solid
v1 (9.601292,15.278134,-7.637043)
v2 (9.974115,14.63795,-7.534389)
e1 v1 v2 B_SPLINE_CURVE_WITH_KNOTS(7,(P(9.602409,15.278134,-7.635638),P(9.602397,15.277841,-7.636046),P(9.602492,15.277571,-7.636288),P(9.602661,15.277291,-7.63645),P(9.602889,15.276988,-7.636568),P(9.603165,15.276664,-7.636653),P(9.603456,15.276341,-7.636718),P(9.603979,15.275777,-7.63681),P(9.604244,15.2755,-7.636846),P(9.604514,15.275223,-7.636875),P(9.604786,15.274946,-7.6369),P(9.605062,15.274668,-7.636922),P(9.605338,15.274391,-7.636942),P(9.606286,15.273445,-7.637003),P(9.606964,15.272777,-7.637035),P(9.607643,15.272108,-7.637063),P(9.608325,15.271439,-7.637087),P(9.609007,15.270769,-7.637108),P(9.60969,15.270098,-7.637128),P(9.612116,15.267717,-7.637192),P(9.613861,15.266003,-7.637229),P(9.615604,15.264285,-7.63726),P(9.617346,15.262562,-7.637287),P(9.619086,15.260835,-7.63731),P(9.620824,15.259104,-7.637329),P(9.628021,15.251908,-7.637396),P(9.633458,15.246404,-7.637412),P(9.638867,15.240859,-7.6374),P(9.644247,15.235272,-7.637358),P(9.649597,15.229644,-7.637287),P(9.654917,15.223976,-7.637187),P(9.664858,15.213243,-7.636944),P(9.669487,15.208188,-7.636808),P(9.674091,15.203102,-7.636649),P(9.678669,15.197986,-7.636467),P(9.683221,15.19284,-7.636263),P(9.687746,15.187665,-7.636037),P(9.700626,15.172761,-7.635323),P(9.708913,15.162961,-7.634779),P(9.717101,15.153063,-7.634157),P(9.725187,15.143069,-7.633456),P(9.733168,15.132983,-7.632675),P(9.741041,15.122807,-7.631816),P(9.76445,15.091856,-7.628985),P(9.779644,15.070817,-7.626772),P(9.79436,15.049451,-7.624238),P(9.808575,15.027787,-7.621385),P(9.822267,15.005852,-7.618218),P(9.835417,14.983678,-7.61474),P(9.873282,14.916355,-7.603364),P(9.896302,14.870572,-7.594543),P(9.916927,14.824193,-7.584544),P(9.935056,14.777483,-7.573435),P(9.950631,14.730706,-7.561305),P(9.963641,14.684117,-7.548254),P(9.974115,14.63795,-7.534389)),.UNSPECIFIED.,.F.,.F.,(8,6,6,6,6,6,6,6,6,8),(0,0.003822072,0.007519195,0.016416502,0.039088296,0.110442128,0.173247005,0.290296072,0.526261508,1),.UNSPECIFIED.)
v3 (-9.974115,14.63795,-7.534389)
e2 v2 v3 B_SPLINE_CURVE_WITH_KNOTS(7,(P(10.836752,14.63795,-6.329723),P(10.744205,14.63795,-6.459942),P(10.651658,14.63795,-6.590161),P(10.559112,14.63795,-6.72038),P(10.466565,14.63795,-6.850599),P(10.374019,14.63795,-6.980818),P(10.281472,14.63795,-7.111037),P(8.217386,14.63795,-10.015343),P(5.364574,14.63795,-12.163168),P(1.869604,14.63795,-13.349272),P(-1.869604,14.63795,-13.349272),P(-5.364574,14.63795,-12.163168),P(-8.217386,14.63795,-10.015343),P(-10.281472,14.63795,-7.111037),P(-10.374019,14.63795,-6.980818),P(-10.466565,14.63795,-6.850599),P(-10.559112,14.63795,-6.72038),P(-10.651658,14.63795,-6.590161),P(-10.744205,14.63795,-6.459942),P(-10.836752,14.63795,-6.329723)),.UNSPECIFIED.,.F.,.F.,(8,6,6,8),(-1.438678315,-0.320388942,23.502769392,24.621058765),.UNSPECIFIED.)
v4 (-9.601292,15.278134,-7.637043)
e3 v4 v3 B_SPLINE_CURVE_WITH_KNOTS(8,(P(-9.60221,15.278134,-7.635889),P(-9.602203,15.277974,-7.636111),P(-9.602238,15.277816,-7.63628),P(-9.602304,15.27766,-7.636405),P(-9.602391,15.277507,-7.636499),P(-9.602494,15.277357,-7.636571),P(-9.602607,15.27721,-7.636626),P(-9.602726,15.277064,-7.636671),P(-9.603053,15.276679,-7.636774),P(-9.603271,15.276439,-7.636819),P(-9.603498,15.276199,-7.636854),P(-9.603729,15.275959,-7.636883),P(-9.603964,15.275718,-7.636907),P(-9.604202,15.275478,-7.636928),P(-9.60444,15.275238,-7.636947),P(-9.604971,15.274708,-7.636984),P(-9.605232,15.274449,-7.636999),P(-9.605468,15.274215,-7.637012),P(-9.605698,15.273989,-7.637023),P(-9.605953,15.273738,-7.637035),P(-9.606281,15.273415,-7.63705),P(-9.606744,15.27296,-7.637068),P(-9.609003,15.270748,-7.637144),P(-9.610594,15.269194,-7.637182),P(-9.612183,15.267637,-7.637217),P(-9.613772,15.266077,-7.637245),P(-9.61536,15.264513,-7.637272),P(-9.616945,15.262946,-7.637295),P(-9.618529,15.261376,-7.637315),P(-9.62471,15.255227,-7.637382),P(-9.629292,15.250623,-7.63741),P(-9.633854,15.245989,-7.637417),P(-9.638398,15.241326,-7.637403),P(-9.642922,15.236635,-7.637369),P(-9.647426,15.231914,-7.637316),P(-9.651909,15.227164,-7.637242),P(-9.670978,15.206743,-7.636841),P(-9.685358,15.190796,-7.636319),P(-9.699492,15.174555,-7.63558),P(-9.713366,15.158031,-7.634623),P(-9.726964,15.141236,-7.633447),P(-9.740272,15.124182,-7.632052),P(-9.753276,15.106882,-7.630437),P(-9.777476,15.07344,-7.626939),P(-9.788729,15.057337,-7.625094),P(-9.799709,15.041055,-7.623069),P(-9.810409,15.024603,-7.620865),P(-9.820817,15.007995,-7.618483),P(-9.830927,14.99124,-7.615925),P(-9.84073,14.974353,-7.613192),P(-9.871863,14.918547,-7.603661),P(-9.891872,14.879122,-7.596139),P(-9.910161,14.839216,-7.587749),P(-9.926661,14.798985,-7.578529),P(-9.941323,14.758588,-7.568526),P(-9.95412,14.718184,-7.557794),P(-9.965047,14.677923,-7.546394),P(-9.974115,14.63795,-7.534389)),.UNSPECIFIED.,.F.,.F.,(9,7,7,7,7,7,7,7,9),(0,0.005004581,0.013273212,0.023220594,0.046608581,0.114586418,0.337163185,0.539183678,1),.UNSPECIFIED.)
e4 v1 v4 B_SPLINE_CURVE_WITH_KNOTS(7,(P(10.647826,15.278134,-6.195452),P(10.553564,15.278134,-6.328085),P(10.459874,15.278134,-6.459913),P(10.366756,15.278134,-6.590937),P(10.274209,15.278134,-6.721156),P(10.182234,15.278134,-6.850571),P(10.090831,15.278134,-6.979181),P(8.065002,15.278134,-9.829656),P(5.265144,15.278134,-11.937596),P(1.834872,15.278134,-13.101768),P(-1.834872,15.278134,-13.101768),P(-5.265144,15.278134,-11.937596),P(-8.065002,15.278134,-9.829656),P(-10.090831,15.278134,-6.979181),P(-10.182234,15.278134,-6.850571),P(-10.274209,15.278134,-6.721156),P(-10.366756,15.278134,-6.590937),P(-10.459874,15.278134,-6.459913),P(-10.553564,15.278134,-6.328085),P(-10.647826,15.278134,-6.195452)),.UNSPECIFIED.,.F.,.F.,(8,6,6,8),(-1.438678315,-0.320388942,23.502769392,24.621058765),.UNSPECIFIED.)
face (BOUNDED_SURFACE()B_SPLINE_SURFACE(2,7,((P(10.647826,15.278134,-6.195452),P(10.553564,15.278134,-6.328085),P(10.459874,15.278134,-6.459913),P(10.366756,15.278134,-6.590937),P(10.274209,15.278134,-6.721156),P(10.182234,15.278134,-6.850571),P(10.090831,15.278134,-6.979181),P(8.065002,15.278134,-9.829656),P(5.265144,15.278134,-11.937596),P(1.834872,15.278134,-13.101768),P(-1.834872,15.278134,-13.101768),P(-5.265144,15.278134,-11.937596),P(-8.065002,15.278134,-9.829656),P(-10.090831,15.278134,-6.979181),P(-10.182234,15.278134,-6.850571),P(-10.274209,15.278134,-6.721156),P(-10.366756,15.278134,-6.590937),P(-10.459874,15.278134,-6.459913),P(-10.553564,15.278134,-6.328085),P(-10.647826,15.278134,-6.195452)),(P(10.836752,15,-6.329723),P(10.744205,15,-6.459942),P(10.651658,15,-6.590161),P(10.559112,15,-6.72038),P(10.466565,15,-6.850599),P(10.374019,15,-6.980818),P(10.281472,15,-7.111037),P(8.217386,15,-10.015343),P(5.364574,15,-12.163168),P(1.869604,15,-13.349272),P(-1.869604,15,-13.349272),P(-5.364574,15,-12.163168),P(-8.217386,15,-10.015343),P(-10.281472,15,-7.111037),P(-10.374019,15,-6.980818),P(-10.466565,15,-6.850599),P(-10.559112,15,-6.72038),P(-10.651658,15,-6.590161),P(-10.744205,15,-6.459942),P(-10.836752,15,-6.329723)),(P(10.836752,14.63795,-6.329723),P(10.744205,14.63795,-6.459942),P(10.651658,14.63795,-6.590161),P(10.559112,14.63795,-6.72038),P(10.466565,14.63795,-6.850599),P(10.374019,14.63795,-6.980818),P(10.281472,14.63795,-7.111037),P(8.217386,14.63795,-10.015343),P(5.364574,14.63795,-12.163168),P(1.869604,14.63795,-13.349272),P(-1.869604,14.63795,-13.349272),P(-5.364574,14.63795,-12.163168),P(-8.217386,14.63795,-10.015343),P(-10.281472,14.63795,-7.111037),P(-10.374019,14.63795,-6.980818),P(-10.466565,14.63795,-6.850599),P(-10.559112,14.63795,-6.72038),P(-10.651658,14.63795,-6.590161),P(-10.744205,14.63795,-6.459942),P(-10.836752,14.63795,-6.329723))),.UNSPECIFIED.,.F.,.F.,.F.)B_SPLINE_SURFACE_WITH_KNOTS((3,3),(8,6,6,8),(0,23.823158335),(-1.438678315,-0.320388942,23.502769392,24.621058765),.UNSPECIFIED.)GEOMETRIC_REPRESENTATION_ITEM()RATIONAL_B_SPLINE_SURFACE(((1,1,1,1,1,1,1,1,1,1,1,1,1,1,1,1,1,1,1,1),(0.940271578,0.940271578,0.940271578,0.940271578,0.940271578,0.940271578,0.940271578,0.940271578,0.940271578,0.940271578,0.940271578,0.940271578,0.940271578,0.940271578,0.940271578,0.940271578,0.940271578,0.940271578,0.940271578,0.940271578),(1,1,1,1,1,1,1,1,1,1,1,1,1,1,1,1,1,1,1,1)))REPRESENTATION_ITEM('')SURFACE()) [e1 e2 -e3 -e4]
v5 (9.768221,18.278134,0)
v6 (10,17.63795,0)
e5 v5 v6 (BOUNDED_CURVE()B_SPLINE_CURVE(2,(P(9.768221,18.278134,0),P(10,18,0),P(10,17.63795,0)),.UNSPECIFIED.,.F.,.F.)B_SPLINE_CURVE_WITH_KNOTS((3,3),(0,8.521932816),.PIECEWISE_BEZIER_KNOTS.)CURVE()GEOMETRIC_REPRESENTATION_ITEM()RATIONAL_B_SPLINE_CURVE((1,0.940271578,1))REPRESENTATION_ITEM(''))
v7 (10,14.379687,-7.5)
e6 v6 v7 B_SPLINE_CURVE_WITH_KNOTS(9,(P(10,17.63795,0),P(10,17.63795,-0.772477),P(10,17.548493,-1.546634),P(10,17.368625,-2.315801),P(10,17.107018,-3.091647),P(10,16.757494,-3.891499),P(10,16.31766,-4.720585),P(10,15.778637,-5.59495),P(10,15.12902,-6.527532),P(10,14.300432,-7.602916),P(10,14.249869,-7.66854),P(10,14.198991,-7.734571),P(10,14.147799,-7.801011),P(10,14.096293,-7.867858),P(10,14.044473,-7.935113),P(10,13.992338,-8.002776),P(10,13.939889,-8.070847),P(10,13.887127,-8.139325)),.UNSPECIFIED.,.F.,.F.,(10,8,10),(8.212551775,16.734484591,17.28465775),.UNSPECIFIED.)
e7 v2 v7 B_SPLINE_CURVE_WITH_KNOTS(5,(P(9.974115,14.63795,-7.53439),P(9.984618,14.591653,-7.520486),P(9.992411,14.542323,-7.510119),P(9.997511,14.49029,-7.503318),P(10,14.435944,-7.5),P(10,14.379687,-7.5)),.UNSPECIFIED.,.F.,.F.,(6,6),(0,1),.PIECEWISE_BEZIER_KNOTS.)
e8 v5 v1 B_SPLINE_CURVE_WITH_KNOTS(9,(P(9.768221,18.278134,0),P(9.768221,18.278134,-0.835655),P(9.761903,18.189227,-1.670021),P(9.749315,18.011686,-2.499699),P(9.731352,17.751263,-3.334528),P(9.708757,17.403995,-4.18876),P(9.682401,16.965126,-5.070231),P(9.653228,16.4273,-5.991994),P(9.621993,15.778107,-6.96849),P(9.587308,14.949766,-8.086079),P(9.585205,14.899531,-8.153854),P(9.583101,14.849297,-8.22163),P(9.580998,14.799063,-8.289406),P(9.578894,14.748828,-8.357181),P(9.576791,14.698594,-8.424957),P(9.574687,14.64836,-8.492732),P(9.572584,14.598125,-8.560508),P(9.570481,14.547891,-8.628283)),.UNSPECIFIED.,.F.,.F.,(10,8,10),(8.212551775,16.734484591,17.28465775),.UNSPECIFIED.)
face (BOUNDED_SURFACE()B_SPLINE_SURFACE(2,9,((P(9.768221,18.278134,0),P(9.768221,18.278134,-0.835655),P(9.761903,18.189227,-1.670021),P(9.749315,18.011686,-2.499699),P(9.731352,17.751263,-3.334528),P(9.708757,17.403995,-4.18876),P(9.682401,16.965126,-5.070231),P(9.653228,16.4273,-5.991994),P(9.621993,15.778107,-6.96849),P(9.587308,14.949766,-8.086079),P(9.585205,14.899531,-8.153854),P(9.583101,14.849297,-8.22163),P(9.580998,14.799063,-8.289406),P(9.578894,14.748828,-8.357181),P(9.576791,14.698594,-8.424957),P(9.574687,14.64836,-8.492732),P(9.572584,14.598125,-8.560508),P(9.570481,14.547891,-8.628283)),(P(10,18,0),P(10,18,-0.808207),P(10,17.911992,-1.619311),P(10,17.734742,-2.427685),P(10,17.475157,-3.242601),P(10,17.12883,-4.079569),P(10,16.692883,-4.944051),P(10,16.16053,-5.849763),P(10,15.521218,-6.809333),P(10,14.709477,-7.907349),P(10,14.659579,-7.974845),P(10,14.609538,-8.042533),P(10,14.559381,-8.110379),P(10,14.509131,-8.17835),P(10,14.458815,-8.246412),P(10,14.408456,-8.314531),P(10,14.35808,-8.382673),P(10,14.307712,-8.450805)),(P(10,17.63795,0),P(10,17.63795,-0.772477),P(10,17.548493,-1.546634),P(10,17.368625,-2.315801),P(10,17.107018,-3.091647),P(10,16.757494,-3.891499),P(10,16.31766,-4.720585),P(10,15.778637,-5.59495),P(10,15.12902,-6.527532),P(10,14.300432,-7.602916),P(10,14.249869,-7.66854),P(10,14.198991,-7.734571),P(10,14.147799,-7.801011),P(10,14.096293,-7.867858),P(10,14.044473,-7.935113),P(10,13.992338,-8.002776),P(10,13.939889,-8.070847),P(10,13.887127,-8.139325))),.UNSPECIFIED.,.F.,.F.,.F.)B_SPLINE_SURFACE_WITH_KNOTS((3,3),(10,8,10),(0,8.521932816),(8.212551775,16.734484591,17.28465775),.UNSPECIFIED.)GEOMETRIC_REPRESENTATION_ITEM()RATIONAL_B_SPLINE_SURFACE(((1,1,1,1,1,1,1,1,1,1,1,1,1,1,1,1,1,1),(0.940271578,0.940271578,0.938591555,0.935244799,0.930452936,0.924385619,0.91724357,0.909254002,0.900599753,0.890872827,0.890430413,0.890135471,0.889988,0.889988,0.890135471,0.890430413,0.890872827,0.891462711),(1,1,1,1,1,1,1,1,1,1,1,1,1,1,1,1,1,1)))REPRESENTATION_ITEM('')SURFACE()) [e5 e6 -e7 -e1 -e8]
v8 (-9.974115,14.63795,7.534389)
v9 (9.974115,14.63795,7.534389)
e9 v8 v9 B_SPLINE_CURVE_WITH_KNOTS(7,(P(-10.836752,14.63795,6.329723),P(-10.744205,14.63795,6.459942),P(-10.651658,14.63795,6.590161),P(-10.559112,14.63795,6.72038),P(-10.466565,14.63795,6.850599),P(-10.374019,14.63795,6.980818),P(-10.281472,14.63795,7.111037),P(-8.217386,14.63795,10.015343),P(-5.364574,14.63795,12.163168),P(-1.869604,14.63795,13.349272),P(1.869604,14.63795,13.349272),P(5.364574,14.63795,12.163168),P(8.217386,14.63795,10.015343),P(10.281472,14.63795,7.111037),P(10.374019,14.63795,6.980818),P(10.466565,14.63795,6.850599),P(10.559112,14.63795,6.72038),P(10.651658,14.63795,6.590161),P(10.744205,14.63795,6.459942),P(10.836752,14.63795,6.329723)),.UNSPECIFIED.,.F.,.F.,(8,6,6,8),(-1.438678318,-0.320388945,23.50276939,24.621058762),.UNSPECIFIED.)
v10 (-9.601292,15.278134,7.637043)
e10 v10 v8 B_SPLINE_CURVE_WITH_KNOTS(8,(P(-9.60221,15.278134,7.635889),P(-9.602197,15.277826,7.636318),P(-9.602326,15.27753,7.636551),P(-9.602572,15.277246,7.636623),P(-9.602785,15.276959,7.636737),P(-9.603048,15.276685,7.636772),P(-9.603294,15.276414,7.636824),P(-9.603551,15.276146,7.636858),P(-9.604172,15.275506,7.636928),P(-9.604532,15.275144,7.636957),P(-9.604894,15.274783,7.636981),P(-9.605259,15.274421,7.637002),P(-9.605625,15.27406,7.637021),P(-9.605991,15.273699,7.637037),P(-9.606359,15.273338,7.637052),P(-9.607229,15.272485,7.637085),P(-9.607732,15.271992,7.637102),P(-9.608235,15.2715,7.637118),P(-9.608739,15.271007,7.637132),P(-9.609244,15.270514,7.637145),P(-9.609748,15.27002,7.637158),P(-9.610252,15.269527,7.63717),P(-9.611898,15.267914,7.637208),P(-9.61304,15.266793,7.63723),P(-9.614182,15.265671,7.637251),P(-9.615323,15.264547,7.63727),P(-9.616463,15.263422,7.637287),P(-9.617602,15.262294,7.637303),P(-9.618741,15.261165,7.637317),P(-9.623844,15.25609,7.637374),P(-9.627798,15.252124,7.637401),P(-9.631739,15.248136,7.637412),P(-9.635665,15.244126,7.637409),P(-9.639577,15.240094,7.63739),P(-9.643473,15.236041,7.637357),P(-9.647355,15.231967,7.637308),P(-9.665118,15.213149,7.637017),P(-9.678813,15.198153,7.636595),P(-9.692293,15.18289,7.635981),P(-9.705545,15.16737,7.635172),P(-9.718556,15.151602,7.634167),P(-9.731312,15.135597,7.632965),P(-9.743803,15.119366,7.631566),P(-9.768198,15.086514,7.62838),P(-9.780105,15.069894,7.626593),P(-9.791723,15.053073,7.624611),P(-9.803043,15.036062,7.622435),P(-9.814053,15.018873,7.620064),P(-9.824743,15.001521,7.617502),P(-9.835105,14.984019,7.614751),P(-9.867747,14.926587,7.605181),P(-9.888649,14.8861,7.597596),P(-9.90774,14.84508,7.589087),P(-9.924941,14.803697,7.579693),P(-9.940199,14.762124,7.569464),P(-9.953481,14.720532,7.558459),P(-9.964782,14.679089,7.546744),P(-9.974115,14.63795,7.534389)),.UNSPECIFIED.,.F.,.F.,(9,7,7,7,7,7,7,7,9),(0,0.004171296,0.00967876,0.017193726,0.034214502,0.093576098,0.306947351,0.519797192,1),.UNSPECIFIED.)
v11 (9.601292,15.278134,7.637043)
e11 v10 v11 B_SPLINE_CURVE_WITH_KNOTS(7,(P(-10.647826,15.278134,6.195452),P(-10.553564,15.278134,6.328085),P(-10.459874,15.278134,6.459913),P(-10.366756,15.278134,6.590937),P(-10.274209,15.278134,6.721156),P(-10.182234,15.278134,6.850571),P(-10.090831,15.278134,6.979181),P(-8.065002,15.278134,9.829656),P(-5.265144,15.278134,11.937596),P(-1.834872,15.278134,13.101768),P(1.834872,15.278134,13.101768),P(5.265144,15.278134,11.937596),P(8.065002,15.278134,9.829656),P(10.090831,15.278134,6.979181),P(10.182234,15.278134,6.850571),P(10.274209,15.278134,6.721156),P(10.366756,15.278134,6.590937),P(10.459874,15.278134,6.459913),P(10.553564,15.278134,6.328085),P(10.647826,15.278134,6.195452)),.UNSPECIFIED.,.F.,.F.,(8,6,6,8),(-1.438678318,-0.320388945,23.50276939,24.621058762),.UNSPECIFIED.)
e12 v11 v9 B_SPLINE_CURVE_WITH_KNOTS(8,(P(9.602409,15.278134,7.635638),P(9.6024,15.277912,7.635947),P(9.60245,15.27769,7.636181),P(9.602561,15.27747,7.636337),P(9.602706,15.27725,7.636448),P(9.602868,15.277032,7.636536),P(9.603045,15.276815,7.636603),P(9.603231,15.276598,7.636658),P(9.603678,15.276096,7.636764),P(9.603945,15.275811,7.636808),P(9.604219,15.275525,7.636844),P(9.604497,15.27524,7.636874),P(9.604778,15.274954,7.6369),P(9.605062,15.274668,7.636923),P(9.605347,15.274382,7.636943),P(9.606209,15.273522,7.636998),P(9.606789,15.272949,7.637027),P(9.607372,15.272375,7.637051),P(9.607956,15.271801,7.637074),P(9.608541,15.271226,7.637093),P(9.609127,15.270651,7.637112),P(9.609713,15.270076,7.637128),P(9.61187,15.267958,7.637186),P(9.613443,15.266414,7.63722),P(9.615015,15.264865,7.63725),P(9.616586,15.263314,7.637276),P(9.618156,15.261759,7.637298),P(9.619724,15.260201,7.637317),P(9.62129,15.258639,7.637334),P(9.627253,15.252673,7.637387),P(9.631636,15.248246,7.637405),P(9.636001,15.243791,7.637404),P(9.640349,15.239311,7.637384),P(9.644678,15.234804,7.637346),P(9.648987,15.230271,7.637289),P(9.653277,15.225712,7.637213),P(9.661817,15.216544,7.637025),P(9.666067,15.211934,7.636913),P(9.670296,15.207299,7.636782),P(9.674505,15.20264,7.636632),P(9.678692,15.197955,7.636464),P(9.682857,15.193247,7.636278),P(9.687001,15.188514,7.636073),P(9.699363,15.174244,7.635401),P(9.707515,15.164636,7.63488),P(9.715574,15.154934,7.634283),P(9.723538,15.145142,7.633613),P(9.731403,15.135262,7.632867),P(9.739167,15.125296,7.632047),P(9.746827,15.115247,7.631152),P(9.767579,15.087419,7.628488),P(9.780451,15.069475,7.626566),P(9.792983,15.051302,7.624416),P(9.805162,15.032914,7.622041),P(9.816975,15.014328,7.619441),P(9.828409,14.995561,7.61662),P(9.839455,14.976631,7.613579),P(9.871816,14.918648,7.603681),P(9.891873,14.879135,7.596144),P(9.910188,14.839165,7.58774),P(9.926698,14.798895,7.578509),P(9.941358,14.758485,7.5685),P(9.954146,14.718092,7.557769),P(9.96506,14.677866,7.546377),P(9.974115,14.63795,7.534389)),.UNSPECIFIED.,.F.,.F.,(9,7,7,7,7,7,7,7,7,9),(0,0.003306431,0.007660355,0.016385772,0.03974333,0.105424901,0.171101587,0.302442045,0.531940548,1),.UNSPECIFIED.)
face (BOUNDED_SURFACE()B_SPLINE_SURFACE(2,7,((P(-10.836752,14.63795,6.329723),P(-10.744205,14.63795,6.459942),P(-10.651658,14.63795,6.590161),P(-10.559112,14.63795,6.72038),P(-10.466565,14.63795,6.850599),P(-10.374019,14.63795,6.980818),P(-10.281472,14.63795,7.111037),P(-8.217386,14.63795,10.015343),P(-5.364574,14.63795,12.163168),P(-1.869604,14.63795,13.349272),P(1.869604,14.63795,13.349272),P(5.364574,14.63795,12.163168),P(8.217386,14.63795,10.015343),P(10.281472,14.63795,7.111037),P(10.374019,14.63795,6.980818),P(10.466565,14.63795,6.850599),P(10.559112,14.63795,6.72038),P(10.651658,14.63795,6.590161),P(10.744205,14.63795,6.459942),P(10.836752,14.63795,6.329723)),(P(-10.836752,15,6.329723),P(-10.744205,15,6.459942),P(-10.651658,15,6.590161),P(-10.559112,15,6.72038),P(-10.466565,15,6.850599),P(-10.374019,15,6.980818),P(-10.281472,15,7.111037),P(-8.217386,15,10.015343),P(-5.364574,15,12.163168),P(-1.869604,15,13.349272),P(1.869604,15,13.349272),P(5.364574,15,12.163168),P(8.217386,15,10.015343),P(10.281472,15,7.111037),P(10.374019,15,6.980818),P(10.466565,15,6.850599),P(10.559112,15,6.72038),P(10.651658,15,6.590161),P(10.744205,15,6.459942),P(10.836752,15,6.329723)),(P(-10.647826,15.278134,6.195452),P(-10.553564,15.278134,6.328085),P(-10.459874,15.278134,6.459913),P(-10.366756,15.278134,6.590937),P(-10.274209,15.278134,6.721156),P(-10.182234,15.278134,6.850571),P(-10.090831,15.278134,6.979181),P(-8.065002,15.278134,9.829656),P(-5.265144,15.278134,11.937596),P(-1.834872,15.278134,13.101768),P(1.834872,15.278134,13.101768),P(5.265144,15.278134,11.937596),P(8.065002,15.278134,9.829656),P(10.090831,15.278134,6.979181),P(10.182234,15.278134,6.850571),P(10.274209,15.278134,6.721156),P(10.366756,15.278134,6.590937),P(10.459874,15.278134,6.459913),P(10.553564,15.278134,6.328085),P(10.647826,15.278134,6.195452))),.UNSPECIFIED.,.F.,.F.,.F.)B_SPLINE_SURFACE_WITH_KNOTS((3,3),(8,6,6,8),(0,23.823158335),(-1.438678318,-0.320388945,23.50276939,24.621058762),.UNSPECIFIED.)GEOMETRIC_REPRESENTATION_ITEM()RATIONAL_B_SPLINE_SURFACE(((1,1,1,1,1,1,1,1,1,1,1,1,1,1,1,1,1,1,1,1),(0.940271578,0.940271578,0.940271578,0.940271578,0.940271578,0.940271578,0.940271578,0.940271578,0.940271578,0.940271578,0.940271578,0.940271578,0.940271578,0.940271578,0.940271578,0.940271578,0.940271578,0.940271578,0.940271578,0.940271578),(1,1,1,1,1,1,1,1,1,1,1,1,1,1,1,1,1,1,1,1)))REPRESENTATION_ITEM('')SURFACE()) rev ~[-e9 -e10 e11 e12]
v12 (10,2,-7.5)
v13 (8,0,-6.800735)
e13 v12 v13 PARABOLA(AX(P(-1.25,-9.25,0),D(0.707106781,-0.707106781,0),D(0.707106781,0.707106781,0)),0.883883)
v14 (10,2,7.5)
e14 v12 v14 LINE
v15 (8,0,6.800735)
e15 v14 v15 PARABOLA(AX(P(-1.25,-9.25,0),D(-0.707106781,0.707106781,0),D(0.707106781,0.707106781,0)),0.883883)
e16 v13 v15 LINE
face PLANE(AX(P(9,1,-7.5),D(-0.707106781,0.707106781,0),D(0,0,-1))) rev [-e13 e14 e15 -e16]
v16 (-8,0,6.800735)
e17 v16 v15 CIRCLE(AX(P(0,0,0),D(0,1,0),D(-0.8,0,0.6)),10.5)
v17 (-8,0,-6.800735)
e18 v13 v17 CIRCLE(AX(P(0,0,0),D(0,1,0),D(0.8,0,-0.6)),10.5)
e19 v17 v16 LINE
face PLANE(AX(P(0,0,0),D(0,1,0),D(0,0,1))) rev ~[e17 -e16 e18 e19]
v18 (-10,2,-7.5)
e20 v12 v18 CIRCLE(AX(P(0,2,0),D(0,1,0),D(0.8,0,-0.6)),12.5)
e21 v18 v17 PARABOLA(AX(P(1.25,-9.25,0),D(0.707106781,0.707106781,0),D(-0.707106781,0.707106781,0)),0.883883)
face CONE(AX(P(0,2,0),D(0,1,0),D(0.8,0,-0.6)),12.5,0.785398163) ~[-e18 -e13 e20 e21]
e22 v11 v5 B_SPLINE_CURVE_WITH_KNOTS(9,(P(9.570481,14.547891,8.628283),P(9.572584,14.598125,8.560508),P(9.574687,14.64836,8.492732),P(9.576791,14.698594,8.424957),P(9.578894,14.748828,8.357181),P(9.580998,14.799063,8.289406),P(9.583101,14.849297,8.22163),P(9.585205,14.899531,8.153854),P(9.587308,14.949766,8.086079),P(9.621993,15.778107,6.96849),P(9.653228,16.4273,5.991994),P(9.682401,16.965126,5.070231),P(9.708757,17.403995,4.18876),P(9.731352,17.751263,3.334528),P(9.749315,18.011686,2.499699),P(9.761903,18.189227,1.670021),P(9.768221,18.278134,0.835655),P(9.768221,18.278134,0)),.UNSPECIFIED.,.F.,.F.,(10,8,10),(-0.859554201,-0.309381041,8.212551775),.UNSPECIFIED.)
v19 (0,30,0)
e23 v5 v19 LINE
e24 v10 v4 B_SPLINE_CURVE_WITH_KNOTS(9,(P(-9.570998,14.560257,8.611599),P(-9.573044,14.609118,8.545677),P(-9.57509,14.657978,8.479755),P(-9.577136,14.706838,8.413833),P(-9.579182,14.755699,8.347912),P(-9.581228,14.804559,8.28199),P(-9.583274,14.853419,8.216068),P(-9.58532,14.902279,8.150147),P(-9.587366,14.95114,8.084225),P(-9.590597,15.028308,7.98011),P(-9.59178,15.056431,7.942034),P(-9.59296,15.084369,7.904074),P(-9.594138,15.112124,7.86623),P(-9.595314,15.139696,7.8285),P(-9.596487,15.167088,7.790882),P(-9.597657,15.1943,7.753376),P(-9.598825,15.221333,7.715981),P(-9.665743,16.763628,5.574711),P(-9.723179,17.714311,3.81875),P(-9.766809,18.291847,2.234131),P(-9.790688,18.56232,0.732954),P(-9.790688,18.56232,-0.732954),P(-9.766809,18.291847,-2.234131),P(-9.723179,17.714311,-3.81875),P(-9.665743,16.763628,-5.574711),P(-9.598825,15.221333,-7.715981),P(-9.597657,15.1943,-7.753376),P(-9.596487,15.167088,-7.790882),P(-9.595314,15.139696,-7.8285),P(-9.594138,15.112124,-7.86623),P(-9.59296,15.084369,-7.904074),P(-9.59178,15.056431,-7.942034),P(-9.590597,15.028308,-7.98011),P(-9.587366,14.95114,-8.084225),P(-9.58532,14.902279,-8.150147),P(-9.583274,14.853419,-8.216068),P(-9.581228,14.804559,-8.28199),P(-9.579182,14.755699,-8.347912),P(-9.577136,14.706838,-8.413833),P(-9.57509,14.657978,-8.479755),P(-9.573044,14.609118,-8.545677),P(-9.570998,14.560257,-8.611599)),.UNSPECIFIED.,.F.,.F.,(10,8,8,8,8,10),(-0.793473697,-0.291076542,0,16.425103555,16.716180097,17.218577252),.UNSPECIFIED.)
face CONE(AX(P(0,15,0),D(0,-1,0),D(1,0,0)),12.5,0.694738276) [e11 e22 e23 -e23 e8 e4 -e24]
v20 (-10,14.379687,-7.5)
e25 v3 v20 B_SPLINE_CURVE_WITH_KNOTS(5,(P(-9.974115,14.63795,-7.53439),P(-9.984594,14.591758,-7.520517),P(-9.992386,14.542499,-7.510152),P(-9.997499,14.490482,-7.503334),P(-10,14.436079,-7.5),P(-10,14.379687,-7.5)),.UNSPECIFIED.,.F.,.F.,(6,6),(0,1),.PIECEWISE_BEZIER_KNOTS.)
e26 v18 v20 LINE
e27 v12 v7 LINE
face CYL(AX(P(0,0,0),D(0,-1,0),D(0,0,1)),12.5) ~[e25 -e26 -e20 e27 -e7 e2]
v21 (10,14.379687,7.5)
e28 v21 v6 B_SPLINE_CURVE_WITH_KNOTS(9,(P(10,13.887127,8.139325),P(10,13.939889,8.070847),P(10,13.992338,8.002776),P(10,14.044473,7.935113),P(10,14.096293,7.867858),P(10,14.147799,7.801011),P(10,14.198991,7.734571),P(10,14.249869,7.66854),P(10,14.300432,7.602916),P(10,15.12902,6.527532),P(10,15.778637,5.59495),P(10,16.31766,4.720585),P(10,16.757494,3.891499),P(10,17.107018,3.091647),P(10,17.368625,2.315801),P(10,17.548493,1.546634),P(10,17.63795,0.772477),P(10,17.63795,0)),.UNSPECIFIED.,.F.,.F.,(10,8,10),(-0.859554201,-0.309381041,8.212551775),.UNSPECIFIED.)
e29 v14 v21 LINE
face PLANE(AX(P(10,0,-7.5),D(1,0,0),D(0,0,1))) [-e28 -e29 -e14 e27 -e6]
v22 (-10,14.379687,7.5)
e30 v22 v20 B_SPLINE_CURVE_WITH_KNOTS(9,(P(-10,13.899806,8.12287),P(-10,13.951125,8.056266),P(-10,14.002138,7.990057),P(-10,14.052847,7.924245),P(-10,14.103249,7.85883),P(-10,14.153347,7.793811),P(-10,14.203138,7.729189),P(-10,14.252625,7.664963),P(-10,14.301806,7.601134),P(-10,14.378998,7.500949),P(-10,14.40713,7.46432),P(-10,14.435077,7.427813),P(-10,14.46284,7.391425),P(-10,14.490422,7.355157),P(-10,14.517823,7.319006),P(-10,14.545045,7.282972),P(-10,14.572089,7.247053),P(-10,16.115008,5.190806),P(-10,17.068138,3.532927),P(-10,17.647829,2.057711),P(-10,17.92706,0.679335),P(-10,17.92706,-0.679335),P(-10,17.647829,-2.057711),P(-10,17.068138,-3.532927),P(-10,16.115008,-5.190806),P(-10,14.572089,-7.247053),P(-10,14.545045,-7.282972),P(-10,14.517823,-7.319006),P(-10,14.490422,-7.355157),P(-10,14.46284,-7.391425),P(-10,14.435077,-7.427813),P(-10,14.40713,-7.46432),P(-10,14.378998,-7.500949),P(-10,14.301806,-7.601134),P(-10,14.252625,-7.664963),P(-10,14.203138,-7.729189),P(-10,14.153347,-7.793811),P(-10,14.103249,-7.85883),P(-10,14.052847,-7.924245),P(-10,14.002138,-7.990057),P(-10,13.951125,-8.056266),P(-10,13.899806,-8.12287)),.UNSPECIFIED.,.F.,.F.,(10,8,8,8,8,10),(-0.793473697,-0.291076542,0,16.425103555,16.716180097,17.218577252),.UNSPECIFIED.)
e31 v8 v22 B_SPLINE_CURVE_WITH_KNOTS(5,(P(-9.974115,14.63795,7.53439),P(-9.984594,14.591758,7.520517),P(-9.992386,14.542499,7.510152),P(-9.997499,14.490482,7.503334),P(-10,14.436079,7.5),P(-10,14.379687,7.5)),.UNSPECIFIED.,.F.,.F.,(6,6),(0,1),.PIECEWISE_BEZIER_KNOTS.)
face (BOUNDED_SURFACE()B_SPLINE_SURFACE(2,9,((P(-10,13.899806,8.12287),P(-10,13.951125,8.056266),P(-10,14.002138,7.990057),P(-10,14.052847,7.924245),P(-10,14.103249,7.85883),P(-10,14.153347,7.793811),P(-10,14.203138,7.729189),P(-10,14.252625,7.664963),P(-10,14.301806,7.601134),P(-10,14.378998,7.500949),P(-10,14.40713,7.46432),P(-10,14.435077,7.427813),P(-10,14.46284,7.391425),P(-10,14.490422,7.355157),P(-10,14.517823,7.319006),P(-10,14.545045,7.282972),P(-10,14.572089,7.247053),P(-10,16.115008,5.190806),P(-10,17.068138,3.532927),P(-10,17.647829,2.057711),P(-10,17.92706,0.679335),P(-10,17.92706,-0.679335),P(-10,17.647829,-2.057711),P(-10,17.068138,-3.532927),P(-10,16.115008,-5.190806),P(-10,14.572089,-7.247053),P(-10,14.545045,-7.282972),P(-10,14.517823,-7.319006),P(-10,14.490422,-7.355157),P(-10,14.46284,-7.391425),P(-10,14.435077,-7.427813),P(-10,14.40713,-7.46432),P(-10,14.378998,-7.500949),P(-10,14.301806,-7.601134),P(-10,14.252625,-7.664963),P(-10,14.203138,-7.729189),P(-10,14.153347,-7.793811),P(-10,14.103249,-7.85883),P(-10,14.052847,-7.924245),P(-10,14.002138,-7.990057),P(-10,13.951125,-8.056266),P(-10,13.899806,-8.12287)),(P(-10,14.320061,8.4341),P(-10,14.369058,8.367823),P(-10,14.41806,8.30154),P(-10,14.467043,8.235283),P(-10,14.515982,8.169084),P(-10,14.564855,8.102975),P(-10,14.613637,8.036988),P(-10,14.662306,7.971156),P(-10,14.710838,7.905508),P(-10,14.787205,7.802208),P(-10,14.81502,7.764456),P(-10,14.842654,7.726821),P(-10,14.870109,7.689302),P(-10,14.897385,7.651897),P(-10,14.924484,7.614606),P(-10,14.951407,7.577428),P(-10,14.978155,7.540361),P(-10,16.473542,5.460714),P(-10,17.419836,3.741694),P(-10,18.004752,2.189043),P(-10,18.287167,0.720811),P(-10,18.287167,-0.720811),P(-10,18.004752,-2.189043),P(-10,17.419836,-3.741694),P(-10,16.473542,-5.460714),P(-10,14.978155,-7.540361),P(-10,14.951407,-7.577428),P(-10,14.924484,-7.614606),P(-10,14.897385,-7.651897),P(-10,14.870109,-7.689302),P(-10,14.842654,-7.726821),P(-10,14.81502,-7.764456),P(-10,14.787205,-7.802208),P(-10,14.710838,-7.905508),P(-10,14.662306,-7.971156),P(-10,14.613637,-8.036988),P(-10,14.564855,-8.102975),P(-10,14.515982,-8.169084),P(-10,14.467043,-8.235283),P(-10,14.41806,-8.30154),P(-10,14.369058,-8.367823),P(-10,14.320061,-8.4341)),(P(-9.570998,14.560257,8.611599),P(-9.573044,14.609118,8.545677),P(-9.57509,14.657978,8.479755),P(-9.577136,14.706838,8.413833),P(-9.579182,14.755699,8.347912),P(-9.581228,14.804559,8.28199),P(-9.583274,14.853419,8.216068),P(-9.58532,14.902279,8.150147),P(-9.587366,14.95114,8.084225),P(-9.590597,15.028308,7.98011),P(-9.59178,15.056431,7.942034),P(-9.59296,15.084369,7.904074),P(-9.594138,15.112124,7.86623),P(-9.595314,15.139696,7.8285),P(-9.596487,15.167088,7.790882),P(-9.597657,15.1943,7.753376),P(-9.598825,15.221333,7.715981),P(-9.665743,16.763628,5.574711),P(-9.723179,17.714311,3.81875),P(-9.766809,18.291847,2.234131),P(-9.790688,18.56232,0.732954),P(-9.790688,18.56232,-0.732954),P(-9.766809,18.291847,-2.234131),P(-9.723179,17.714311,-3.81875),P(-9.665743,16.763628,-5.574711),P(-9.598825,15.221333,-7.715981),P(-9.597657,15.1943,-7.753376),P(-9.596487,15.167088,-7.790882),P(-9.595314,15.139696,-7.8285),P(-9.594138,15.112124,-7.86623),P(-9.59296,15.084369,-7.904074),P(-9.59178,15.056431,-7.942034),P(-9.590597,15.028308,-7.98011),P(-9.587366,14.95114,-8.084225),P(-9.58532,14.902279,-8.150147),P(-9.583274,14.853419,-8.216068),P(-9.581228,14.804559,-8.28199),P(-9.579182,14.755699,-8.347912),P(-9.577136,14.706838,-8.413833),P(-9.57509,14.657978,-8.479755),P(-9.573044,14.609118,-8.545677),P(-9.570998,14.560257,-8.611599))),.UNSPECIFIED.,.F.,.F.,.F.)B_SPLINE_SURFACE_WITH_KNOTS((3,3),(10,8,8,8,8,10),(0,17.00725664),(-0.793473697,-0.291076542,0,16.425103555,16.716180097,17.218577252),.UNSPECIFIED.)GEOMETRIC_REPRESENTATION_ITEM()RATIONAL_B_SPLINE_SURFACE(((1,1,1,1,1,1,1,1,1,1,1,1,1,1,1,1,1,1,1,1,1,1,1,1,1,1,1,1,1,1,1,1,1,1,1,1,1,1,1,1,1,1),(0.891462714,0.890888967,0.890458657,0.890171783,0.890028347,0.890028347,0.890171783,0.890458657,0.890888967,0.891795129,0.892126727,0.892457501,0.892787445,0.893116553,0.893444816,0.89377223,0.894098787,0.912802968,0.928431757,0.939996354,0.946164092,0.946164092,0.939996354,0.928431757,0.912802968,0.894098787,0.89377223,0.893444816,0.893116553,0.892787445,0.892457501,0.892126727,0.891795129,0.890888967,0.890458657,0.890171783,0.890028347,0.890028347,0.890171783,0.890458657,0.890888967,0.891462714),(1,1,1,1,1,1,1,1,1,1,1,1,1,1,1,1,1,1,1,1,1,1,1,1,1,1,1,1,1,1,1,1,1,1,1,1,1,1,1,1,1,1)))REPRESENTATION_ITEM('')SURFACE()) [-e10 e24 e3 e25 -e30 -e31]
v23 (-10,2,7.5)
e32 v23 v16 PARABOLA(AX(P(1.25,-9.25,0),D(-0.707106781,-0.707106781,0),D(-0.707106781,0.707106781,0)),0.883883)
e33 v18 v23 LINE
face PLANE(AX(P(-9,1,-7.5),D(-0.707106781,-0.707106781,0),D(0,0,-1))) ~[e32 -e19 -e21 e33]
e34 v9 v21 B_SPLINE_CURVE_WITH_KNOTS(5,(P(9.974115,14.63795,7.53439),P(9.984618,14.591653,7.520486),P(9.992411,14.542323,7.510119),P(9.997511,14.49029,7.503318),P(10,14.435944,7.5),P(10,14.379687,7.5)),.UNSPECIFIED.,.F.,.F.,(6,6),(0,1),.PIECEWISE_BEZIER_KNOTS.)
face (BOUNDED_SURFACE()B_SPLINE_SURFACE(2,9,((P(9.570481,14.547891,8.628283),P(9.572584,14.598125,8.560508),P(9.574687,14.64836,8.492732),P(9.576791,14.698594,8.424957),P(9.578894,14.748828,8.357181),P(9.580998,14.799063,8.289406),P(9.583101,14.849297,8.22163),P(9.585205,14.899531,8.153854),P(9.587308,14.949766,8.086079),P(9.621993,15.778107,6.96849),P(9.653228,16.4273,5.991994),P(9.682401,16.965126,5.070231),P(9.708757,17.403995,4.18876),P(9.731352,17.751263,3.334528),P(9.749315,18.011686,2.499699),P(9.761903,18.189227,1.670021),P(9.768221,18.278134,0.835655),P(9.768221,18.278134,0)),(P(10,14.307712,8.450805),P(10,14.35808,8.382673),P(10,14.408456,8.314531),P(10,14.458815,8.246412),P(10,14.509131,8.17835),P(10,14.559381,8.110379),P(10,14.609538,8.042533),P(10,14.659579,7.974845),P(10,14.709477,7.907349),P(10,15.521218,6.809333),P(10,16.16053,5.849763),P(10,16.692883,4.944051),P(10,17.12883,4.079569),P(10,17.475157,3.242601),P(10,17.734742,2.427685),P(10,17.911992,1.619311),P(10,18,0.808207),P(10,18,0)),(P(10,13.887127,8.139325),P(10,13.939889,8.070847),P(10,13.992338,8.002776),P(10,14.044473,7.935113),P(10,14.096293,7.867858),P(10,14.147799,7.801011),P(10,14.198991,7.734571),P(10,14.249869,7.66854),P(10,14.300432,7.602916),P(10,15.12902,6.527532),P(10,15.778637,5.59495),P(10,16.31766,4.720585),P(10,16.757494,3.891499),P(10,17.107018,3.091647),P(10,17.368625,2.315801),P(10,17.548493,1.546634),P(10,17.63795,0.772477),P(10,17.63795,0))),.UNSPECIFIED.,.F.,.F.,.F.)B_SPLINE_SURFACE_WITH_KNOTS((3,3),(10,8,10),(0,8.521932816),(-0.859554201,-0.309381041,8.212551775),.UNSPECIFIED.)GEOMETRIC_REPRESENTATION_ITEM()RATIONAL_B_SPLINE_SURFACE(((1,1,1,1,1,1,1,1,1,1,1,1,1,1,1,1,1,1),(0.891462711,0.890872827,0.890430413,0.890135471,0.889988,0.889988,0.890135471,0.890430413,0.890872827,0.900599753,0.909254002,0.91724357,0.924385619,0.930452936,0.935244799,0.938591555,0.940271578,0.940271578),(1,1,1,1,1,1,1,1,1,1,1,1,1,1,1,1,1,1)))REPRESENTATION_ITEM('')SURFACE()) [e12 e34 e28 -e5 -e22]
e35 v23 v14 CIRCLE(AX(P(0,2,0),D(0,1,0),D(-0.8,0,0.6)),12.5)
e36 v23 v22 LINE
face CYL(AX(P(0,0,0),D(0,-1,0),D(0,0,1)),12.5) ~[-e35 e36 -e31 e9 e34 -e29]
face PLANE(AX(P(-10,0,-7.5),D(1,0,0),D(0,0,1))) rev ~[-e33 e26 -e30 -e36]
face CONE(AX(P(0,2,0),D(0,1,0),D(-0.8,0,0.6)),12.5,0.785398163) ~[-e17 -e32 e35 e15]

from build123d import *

# Parameters (mm, degrees)
SKETCH1_R           = 12.5
BOSS_EXTRUDE2_DEPTH = 15
CUT_EXTRUDE1_REACH  = 36.821
CHAMFER1_SIZE       = 2
FILLET1_R           = 1


with BuildPart() as part:
    # Sketch1 → Boss-Extrude2 (new body)
    with BuildSketch(Plane(origin=(0, 0, 0), x_dir=(1, 0, 0), z_dir=(0, 1, 0))):
        with Locations(Location((0, 0, 0), (0, 0, 270))):
            Circle(SKETCH1_R)
    extrude(amount=BOSS_EXTRUDE2_DEPTH)

    # Sketch2 → Revolve1 (revolve)
    with BuildSketch(Plane.XY):
        Polygon((12.5, 15), (0, 30), (0, 15), align=None)
    revolve(axis=Axis((0, -1000, 0), (0, 1, 0)))

    # Cut-Extrude1: up to this cone (the profile starts inside it)
    cut_extrude1_end = Plane(origin=(0, 0, 0), z_dir=(0, -1, 0)).offset(-29.999999) * Cone(1e-06, 76.934166667, 92.320999, align=(Align.CENTER, Align.CENTER, Align.MIN), mode=Mode.PRIVATE)
    # Sketch3 → Cut-Extrude1 (cut, up to the surface)
    with BuildSketch(Plane(origin=(0, 0, 0), x_dir=(1, 0, 0), z_dir=(0, 1, 0)), mode=Mode.PRIVATE) as cut_extrude1_sk1:
        with BuildLine():
            Line((-10, 7.5), (-10, -7.5))
            ThreePointArc((-10, -7.5), (-12.5, 0), (-10, 7.5))
        make_face()
    cut_extrude1_tool1 = extrude(cut_extrude1_sk1.sketch, amount=CUT_EXTRUDE1_REACH, mode=Mode.PRIVATE) & cut_extrude1_end
    add(cut_extrude1_tool1.solids().sort_by_distance((-11.0091, 0, 0))[0], mode=Mode.SUBTRACT)
    # Sketch3 → Cut-Extrude1 (cut, up to the surface)
    with BuildSketch(Plane(origin=(0, 0, 0), x_dir=(1, 0, 0), z_dir=(0, 1, 0)), mode=Mode.PRIVATE) as cut_extrude1_sk2:
        with BuildLine():
            Line((10, 7.5), (10, -7.5))
            ThreePointArc((10, -7.5), (12.5, 0), (10, 7.5))
        make_face()
    cut_extrude1_tool2 = extrude(cut_extrude1_sk2.sketch, amount=CUT_EXTRUDE1_REACH, mode=Mode.PRIVATE) & cut_extrude1_end
    add(cut_extrude1_tool2.solids().sort_by_distance((11.0091, 0, 0))[0], mode=Mode.SUBTRACT)

    # Chamfer1
    chamfer1_edges = [part.edges().sort_by_distance(p)[0] for p in [
        (0, 0, -12.5),
        (0, 0, 12.5),
        (-10, 0, 0),
        (10, 0, 0),
    ]]
    chamfer(chamfer1_edges, length=CHAMFER1_SIZE)

    # Fillet1
    fillet1_edges = [part.edges().sort_by_distance(p)[0] for p in [
        (-10, 17.087815774, 3.972518962),
        (10, 17.087815774, -3.972518962),
        (0, 15, -12.5),
        (0, 15, 12.5),
    ]]
    fillet(fillet1_edges, radius=FILLET1_R)


solid = part.part
